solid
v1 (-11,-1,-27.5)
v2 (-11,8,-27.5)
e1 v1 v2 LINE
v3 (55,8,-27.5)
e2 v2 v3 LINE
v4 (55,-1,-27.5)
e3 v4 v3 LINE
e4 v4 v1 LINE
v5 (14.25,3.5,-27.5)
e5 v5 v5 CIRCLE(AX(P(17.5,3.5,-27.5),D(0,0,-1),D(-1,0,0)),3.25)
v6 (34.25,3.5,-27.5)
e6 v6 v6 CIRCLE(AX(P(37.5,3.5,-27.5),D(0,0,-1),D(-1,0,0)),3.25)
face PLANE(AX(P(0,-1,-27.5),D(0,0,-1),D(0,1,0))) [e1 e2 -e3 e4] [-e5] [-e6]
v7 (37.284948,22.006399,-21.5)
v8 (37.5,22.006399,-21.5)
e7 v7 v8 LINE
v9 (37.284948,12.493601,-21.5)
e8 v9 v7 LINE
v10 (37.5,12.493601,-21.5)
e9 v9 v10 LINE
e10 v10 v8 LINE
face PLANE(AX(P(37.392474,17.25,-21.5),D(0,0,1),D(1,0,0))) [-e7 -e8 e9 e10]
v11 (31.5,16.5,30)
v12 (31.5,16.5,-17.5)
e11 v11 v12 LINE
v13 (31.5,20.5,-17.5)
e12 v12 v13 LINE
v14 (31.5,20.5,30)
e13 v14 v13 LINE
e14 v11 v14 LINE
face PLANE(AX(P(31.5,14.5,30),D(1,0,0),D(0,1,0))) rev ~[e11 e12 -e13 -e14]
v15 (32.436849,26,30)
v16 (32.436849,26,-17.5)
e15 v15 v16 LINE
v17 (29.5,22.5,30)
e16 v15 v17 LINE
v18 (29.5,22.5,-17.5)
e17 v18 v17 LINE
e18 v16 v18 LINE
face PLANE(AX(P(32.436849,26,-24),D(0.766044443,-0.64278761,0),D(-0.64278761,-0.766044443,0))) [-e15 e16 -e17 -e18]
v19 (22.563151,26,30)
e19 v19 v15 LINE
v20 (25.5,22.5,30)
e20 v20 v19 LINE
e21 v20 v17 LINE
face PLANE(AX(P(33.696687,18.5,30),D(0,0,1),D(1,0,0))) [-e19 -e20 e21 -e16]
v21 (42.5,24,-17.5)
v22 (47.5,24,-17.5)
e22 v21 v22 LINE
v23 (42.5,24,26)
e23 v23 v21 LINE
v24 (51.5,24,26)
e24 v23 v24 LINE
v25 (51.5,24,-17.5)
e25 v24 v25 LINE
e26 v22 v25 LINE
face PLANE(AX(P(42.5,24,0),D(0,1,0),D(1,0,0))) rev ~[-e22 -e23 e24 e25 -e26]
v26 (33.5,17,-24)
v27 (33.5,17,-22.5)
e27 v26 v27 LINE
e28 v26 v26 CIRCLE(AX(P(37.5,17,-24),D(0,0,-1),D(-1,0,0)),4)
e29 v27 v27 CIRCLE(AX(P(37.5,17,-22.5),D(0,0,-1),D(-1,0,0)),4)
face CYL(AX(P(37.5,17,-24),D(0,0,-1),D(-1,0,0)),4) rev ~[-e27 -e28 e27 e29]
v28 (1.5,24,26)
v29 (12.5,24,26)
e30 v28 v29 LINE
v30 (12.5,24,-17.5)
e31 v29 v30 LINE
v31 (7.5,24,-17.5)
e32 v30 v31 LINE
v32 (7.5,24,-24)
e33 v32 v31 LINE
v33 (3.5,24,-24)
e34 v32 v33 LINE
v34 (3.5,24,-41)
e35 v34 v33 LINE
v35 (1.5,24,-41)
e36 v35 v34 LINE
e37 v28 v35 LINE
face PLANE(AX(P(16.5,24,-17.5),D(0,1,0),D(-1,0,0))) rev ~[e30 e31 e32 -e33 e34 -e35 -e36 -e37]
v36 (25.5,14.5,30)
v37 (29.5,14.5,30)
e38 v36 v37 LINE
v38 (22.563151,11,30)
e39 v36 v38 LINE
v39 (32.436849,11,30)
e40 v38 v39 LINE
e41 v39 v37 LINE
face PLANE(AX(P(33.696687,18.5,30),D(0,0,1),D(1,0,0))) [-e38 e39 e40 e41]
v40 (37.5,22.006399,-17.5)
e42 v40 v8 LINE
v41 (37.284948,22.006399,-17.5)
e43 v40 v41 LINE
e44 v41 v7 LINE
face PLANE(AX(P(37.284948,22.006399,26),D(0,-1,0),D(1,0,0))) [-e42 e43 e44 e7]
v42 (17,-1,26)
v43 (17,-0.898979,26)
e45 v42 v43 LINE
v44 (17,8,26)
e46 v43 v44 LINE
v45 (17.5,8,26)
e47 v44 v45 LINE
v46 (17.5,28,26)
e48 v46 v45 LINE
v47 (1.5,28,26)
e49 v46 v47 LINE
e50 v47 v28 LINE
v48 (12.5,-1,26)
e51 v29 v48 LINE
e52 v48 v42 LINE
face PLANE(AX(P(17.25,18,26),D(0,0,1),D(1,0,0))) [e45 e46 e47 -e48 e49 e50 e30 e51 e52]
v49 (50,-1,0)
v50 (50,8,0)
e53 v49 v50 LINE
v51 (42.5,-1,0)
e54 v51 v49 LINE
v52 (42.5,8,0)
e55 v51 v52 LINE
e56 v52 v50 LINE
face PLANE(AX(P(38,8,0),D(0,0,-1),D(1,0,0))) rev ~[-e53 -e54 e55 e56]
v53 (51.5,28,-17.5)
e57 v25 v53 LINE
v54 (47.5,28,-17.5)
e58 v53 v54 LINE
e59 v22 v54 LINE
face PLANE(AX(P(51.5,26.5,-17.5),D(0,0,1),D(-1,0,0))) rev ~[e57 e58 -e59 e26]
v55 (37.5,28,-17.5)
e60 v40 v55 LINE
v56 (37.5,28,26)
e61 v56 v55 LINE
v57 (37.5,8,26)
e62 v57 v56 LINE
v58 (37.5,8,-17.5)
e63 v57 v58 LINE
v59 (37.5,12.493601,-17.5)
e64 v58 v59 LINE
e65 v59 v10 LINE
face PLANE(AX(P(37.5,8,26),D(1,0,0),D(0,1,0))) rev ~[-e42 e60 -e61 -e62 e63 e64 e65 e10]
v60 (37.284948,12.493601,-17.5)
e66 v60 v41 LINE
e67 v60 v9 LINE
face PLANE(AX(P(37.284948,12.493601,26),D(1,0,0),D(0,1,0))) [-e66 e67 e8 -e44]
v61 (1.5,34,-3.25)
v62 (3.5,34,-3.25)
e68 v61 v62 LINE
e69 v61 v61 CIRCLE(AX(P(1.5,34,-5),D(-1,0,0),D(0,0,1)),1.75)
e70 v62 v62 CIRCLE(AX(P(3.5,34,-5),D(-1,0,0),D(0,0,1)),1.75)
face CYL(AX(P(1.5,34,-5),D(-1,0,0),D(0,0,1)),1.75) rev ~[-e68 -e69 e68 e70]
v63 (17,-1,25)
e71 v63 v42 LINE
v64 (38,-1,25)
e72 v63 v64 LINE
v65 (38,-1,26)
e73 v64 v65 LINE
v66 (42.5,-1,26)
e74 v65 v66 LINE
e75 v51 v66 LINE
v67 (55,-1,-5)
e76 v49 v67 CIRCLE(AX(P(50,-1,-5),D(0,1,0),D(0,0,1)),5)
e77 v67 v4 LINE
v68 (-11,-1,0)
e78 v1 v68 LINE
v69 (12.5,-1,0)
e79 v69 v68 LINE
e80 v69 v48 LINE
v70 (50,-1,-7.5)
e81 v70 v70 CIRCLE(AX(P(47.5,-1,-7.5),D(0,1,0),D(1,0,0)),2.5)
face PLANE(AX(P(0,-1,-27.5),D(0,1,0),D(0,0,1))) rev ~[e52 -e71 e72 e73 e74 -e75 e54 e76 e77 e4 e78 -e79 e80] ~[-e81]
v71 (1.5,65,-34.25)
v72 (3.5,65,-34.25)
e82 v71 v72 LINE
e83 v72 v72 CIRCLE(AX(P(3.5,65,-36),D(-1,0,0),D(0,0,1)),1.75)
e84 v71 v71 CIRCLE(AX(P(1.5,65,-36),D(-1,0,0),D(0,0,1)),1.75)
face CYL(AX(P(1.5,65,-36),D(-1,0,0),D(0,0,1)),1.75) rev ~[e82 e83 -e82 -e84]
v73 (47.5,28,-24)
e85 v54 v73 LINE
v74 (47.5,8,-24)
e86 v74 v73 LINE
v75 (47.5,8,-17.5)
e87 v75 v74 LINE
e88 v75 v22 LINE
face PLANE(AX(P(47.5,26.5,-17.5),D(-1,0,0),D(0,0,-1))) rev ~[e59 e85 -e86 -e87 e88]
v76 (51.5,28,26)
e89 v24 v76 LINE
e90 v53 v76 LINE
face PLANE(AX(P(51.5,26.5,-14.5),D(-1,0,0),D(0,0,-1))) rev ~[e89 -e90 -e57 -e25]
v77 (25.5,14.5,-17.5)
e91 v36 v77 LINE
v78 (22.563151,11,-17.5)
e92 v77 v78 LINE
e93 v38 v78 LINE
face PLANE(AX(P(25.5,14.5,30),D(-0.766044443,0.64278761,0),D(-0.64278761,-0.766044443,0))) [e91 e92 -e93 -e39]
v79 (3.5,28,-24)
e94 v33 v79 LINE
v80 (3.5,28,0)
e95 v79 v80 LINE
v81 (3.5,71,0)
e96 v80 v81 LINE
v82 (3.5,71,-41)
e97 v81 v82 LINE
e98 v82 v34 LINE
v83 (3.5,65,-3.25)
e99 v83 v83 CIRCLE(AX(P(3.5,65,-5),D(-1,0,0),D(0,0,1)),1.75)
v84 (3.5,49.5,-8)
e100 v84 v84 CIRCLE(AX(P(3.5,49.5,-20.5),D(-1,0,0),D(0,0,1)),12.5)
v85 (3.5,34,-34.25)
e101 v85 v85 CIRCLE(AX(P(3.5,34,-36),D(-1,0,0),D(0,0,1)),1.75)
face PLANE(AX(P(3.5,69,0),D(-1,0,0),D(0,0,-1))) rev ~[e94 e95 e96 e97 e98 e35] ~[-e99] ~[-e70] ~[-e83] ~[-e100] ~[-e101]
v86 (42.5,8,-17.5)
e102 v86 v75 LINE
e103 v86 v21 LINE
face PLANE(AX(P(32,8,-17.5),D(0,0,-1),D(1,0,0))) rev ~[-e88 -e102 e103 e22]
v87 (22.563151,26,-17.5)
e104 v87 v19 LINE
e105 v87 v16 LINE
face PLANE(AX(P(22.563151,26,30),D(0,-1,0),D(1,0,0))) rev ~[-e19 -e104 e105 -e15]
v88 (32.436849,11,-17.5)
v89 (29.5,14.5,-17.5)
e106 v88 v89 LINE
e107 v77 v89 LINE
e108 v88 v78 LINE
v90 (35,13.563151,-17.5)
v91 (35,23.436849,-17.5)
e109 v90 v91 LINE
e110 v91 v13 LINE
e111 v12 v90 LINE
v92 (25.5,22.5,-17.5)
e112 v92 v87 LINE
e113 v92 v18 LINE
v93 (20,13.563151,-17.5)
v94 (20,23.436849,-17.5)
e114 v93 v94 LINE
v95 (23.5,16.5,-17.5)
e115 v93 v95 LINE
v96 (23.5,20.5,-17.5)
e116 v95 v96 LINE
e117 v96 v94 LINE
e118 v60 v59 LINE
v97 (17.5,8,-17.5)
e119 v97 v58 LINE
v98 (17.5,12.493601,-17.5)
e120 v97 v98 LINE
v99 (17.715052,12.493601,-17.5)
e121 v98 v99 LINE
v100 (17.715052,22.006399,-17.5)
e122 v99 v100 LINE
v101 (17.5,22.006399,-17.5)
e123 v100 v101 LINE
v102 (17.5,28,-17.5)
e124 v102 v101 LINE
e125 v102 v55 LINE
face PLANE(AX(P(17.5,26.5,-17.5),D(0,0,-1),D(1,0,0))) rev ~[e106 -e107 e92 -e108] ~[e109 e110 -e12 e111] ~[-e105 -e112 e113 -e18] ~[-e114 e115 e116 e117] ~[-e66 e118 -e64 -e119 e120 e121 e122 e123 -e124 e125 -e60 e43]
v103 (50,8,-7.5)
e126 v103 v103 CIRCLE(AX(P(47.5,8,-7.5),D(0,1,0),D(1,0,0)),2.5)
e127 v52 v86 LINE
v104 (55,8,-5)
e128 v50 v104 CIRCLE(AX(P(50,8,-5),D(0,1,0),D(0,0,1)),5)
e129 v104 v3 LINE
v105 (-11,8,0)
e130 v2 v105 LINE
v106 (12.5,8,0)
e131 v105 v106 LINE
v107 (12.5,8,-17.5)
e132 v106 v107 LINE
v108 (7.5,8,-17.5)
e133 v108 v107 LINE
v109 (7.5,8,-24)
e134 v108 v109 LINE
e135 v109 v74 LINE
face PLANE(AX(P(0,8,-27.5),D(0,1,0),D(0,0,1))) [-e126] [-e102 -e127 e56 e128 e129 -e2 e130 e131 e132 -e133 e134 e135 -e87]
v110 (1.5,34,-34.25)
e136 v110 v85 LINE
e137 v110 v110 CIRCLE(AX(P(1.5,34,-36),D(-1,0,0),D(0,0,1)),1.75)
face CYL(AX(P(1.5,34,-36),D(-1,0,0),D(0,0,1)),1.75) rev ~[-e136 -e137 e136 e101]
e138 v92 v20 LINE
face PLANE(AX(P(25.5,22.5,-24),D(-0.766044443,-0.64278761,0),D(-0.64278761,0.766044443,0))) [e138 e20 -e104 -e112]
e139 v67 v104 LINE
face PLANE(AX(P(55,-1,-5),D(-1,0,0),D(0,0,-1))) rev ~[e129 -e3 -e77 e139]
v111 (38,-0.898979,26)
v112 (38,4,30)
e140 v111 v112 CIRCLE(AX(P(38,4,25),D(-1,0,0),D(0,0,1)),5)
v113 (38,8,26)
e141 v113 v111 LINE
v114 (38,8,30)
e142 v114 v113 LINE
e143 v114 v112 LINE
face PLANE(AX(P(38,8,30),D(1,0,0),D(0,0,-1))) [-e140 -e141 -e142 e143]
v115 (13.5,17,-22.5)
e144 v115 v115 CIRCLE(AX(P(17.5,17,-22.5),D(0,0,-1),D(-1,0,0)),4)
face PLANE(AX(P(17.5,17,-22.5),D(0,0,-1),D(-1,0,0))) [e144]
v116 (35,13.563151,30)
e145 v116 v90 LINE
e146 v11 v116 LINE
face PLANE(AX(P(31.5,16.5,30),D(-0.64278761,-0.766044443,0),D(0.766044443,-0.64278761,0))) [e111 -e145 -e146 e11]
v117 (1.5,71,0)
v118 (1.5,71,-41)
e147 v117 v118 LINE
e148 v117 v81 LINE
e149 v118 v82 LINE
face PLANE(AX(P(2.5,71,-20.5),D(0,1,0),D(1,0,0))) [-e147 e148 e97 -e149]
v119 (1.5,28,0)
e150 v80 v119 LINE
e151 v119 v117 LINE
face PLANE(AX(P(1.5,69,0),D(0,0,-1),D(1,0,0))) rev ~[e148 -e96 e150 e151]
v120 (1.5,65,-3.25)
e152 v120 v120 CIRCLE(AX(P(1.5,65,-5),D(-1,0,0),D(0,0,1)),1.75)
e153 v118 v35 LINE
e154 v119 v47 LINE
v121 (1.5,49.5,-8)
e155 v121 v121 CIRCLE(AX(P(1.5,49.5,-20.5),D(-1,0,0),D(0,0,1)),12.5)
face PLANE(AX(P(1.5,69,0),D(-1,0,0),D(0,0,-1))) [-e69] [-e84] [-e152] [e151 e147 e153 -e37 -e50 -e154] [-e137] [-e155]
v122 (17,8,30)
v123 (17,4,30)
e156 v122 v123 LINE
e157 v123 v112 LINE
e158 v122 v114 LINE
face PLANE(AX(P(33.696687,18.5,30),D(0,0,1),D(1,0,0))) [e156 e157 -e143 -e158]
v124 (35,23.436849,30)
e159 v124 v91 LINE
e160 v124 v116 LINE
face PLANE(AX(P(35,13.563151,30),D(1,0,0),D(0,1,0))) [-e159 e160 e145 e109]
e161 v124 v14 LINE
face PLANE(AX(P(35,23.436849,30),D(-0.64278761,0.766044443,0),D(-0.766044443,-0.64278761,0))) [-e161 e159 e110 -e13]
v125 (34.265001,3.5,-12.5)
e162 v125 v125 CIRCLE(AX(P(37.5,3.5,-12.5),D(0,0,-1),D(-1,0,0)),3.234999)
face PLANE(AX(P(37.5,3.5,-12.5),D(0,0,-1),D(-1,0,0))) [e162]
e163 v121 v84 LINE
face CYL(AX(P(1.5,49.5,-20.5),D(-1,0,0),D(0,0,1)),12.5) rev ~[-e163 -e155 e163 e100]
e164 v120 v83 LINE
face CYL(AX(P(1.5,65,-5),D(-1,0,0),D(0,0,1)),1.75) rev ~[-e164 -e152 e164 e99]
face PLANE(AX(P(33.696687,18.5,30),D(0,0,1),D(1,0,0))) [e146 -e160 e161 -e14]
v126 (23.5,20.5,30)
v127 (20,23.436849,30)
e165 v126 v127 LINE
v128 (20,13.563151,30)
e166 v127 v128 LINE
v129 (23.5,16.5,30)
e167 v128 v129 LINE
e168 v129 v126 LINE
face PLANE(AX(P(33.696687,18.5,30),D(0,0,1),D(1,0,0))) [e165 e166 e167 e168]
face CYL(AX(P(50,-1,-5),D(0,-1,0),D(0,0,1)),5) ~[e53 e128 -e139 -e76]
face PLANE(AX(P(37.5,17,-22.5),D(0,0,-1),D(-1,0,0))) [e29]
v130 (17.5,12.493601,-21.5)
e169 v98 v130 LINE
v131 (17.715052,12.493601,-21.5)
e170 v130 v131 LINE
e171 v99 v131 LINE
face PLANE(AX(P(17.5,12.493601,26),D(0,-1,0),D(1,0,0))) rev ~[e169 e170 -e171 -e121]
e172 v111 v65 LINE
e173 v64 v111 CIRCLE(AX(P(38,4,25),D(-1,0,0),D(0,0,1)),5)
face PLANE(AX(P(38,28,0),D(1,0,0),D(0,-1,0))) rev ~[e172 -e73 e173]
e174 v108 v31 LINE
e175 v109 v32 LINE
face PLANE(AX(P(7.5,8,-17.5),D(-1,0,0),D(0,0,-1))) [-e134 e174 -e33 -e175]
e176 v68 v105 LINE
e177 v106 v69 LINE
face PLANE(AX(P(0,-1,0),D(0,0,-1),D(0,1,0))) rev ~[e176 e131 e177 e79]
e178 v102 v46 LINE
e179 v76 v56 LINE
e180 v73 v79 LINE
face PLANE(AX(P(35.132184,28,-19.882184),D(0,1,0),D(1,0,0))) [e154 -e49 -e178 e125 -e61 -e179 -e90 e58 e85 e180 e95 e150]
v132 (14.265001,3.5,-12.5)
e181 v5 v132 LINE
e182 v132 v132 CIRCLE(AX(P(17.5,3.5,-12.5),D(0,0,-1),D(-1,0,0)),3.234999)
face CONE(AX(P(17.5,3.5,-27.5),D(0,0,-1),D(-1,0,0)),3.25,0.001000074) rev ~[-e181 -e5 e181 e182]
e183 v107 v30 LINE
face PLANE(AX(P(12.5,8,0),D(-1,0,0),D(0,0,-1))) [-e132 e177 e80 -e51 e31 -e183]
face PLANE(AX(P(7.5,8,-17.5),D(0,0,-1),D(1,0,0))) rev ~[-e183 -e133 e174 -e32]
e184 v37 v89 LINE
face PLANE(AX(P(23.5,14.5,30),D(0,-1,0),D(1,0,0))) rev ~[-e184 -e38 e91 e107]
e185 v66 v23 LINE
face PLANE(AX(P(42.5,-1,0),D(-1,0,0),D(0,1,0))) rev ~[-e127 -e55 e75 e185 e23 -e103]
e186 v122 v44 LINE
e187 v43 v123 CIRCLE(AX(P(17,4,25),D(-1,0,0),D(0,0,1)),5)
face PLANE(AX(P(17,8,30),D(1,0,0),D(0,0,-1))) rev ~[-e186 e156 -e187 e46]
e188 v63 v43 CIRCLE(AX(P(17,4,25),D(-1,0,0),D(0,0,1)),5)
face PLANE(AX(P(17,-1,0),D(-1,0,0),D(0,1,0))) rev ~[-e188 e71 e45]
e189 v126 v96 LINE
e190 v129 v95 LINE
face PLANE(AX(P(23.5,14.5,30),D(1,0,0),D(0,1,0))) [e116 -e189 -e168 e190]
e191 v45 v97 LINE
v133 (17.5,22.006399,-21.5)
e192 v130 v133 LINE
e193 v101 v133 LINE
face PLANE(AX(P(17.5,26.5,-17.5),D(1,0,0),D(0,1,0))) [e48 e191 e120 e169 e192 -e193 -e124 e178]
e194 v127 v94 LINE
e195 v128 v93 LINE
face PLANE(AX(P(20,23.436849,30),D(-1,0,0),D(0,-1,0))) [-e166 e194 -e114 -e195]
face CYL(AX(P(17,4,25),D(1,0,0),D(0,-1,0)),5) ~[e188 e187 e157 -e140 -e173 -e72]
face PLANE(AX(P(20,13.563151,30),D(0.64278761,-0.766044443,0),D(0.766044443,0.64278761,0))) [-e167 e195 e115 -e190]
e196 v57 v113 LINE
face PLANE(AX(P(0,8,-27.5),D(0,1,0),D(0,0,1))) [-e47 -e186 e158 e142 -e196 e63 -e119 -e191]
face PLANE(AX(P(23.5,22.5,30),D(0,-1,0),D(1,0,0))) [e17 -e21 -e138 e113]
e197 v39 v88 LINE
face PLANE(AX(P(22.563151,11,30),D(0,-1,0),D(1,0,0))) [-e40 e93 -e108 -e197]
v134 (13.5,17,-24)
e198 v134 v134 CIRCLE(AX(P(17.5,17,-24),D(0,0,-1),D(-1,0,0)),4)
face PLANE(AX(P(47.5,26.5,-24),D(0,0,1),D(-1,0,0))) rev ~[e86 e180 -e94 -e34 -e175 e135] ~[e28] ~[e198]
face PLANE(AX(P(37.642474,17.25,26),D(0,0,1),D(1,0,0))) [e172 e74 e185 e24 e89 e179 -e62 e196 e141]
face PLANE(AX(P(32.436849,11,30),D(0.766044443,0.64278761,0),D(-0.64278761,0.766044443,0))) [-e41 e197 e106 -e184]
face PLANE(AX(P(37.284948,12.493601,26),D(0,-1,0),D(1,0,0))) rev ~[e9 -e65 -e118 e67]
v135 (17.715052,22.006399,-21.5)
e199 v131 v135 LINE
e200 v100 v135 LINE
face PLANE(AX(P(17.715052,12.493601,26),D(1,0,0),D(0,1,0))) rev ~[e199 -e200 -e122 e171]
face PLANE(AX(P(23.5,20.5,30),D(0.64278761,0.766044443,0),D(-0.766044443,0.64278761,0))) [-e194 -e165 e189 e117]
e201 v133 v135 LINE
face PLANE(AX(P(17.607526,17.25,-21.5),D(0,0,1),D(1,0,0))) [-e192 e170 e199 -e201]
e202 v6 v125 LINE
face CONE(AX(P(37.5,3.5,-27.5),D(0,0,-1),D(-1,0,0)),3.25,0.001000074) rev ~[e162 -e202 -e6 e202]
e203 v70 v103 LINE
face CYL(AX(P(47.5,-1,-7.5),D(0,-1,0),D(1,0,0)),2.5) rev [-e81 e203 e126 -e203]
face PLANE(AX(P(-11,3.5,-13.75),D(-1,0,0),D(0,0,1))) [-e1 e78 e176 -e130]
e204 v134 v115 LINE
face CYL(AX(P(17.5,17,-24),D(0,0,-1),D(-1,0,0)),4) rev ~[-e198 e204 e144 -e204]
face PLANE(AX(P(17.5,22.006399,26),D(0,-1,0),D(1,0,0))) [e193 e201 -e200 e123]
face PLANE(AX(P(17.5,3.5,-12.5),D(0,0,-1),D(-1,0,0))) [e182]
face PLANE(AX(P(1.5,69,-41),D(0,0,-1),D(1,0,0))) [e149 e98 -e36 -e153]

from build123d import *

# Parameters (mm, degrees)
BOSS_EXTRUDE2_DEPTH          = 8
BOSS_EXTRUDE2_DEPTH_BACK     = 1
SKETCH1_R                    = 2.5
CUT_EXTRUDE1_DEPTH           = 79.300702423
CUT_EXTRUDE1_DEPTH_BACK      = 79.300702423
SKETCH2_R                    = 2.5
SKETCH3_R                    = 3.25
CUT_EXTRUDE5_DEPTH           = 15
CUT_EXTRUDE5_DRAFT           = -0.0573
CUT_EXTRUDE5_PROFILE_2_DEPTH = 15
CUT_EXTRUDE5_PROFILE_2_DRAFT = -0.0573
SKETCH5_W                    = 9
SKETCH5_H                    = 6.5
BOSS_EXTRUDE3_DEPTH          = 14.5
CUT_EXTRUDE4_DEPTH           = 1.5
SKETCH12_W                   = 21
SKETCH12_H                   = 30
BOSS_EXTRUDE7_DEPTH          = 9
SKETCH15_W                   = 9
SKETCH15_H                   = 6.5
BOSS_EXTRUDE8_DEPTH          = 3.5
BOSS_EXTRUDE9_DEPTH          = 54
FILLET4_R                    = 5
SKETCH18_W                   = 9.873697418
SKETCH18_H                   = 6.5
BOSS_EXTRUDE11_DEPTH         = 0.5
SKETCH20_W                   = 4
SKETCH20_H                   = 17.5
BOSS_EXTRUDE12_DEPTH         = 18
BOSS_EXTRUDE13_DEPTH         = 11
BOSS_EXTRUDE13_DEPTH_BACK    = 4
SKETCH22_W                   = 17.5
SKETCH22_H                   = 4
SKETCH25_W                   = 2
SKETCH25_H                   = 17.5
BOSS_EXTRUDE14_DEPTH         = 41
SKETCH28_W                   = 41
SKETCH28_H                   = 45
BOSS_EXTRUDE15_DEPTH         = 2
SKETCH29_R                   = 1.75
CUT_EXTRUDE8_DEPTH           = 9
BOSS_EXTRUDE16_DEPTH         = 9
BOSS_EXTRUDE16_DEPTH_BACK    = 4
SKETCH30_W                   = 17.5
SKETCH30_H                   = 4
SKETCH31_R                   = 10
CUT_EXTRUDE9_DEPTH           = 9
SKETCH32_W                   = 13
SKETCH32_H                   = 4
BOSS_EXTRUDE17_DEPTH         = 23.5
SKETCH33_W                   = 0.5
SKETCH33_H                   = 17.5
BOSS_EXTRUDE18_DEPTH         = 20
BOSS_EXTRUDE19_DEPTH         = 26
SKETCH35_W                   = 9.873697418
SKETCH35_H                   = 0.5
BOSS_EXTRUDE20_DEPTH         = 47.5
BOSS_EXTRUDE21_DEPTH         = 47.5
SKETCH38_W                   = 0.419549816
SKETCH38_H                   = 18.5
CUT_EXTRUDE10_DEPTH          = 90.5
BOSS_EXTRUDE23_DEPTH         = 47.5
SKETCH46_W                   = 27.5
SKETCH46_H                   = 9
BOSS_EXTRUDE26_DEPTH         = 11.5
SKETCH47_W                   = 27.5
SKETCH47_H                   = 9
BOSS_EXTRUDE27_DEPTH         = 11
SKETCH48_W                   = 15.5
SKETCH48_H                   = 6.5
BOSS_EXTRUDE31_DEPTH         = 18.5
SKETCH50_R                   = 4
CUT_EXTRUDE11_DEPTH          = 1.5
SKETCH51_W                   = 9.626242636
SKETCH51_H                   = 9.125298808
BOSS_EXTRUDE32_DEPTH         = 1.5
SKETCH54_W                   = 8
SKETCH54_H                   = 8
BOSS_EXTRUDE35_DEPTH         = 47.5
SKETCH55_W                   = 9.873697418
SKETCH55_H                   = 0.5
CUT_EXTRUDE12_DEPTH          = 47.5
SKETCH56_W                   = 0.5
SKETCH56_H                   = 20
BOSS_EXTRUDE36_DEPTH         = 43.5
BOSS_EXTRUDE37_DEPTH         = 47.5
SKETCH58_W                   = 0.715052156
SKETCH58_H                   = 9.51279705
CUT_EXTRUDE13_DEPTH          = 4
CUT_EXTRUDE15_DEPTH          = 47.5
SKETCH60_W                   = 0.215052156
SKETCH60_H                   = 9.51279705
CUT_EXTRUDE16_DEPTH          = 47.5
CUT_EXTRUDE17_DEPTH          = 47.5
SKETCH62_W                   = 8
SKETCH62_H                   = 8
CUT_EXTRUDE18_DEPTH          = 47.5
SKETCH63_W                   = 13
SKETCH63_H                   = 4
CUT_EXTRUDE20_DEPTH          = 17
SKETCH64_W                   = 1
SKETCH64_H                   = 1.5
BOSS_EXTRUDE38_DEPTH         = 6.5
SKETCH65_W                   = 7
SKETCH65_H                   = 3
CUT_EXTRUDE21_DEPTH          = 1.5
BOSS_EXTRUDE39_START         = -2
SKETCH66_R                   = 10
BOSS_EXTRUDE39_DEPTH         = 2
SKETCH67_R                   = 12.5
CUT_EXTRUDE22_DEPTH          = 155
BOSS_EXTRUDE40_DEPTH         = 1.5
SKETCH70_W                   = 2
SKETCH70_H                   = 41
BOSS_EXTRUDE41_DEPTH         = 2


with BuildPart() as part:
    # Sketch1 → Boss-Extrude2 (new, two sides: drawn at the far end of the back side and taken through both)
    with BuildSketch(Plane(origin=(0, 0, 0), x_dir=(1, 0, 0), z_dir=(0, 1, 0)).offset(-BOSS_EXTRUDE2_DEPTH_BACK)):
        with BuildLine():
            Line((5, 0), (50, 0))
            ThreePointArc((50, 0), (53.535533906, 1.464466094), (55, 5))
            Line((55, 5), (55, 50))
            ThreePointArc((55, 50), (53.535533906, 53.535533906), (50, 55))
            Line((50, 55), (5, 55))
            ThreePointArc((5, 55), (1.464466094, 53.535533906), (0, 50))
            Line((0, 50), (0, 5))
            ThreePointArc((0, 5), (1.464466094, 1.464466094), (5, 0))
        make_face()
        with Locations((7.5, 47.5)):
            Circle(SKETCH1_R, mode=Mode.SUBTRACT)
        with Locations((47.5, 47.5)):
            Circle(SKETCH1_R, mode=Mode.SUBTRACT)
        with Locations((47.5, 7.5)):
            Circle(SKETCH1_R, mode=Mode.SUBTRACT)
        with Locations((7.5, 7.5)):
            Circle(SKETCH1_R, mode=Mode.SUBTRACT)
    extrude(amount=BOSS_EXTRUDE2_DEPTH + BOSS_EXTRUDE2_DEPTH_BACK)

    # Sketch2 → Cut-Extrude1 (cut, two sides: drawn at the far end of the back side and taken through both)
    with BuildSketch(Plane(origin=(0, 8, 0), x_dir=(1, 0, 0), z_dir=(0, 1, 0)).offset(-CUT_EXTRUDE1_DEPTH_BACK)):
        with BuildLine():
            Line((0, 50), (0, 27.5))
            Line((0, 27.5), (55, 27.5))
            Line((55, 27.5), (55, 50))
            ThreePointArc((55, 50), (53.535533906, 53.535533906), (50, 55))
            Line((50, 55), (5, 55))
            ThreePointArc((5, 55), (1.464466094, 53.535533906), (0, 50))
        make_face()
        with Locations((7.5, 47.5)):
            Circle(SKETCH2_R, mode=Mode.SUBTRACT)
        with Locations((47.5, 47.5)):
            Circle(SKETCH2_R, mode=Mode.SUBTRACT)
    extrude(amount=CUT_EXTRUDE1_DEPTH + CUT_EXTRUDE1_DEPTH_BACK, mode=Mode.SUBTRACT)


with BuildPart() as cut_extrude5_tool:
    # Sketch3 → Cut-Extrude5 (with draft: the straight prism first)
    with BuildSketch(Plane(origin=(0, 0, -27.5), x_dir=(-1, 0, 0), z_dir=(0, 0, -1))):
        with Locations((-37.5, 3.5)):
            Circle(SKETCH3_R)
    extrude(amount=-CUT_EXTRUDE5_DEPTH)
    # Cut-Extrude5: the draft: its side faces are tilted about the plane it starts from
    cut_extrude5_sides = [cut_extrude5_tool.faces().sort_by_distance(p)[0] for p in [
        (40.75, 3.5, -20),
    ]]
    draft(cut_extrude5_sides, Plane(origin=(0, 0, -27.5), x_dir=(-1, 0, 0), z_dir=(0, 0, -1)), CUT_EXTRUDE5_DRAFT)


with BuildPart() as part_1:
    add(part.part)

    # Cut-Extrude5: cut by cut_extrude5_tool
    add(cut_extrude5_tool.part, mode=Mode.SUBTRACT)


with BuildPart() as cut_extrude5_profile_2_tool:
    # Sketch3 → Cut-Extrude5 profile 2 (with draft: the straight prism first)
    with BuildSketch(Plane(origin=(0, 0, -27.5), x_dir=(-1, 0, 0), z_dir=(0, 0, -1))):
        with Locations((-17.5, 3.5)):
            Circle(SKETCH3_R)
    extrude(amount=-CUT_EXTRUDE5_PROFILE_2_DEPTH)
    # Cut-Extrude5 profile 2: the draft: its side faces are tilted about the plane it starts from
    cut_extrude5_profile_2_sides = [cut_extrude5_profile_2_tool.faces().sort_by_distance(p)[0] for p in [
        (20.75, 3.5, -20),
    ]]
    draft(cut_extrude5_profile_2_sides, Plane(origin=(0, 0, -27.5), x_dir=(-1, 0, 0), z_dir=(0, 0, -1)), CUT_EXTRUDE5_PROFILE_2_DRAFT)


with BuildPart() as part_2:
    add(part_1.part)

    # Cut-Extrude5 profile 2: cut by cut_extrude5_profile_2_tool
    add(cut_extrude5_profile_2_tool.part, mode=Mode.SUBTRACT)

    # Sketch5 → Boss-Extrude3 (add)
    with BuildSketch(Plane(origin=(0, 8, 0), x_dir=(1, 0, 0), z_dir=(0, 1, 0))):
        with Locations((27.5, 20.75)):
            Rectangle(SKETCH5_W, SKETCH5_H)
    extrude(amount=BOSS_EXTRUDE3_DEPTH)

    # Sketch6 → Cut-Extrude4 (cut)
    with BuildSketch(Plane(origin=(0, 0, -24), x_dir=(-1, 0, 0), z_dir=(0, 0, -1))):
        with BuildLine():
            ThreePointArc((-27.5, 13), (-24.671572875, 14.171572875), (-23.5, 17))
            ThreePointArc((-23.5, 17), (-30.328427125, 19.828427125), (-27.5, 13))
        make_face()
    extrude(amount=-CUT_EXTRUDE4_DEPTH, mode=Mode.SUBTRACT)

    # Sketch12 → Boss-Extrude7 (add)
    with BuildSketch(Plane(origin=(0, 8, 0), x_dir=(1, 0, 0), z_dir=(0, 1, 0))):
        with Locations((27.5, -15)):
            Rectangle(SKETCH12_W, SKETCH12_H)
    extrude(amount=-BOSS_EXTRUDE7_DEPTH)

    # Sketch15 → Boss-Extrude8 (add)
    with BuildSketch(Plane(origin=(0, 22.5, 0), x_dir=(1, 0, 0), z_dir=(0, 1, 0))):
        with Locations((27.5, 20.75)):
            Rectangle(SKETCH15_W, SKETCH15_H)
    extrude(amount=BOSS_EXTRUDE8_DEPTH)

    # Sketch11 → Boss-Extrude9 (add)
    with BuildSketch(Plane(origin=(0, 0, -24), x_dir=(-1, 0, 0), z_dir=(0, 0, -1))):
        Polygon((-29.5, 22.5), (-25.5, 22.5), (-22.563151291, 26), (-32.436848709, 26), align=None)
    extrude(amount=-BOSS_EXTRUDE9_DEPTH)

    # Fillet4
    fillet4_edges = [part_2.edges().sort_by_distance(p)[0] for p in [
        (27.5, -1, 30),
    ]]
    fillet(fillet4_edges, radius=FILLET4_R)

    # Sketch18 → Boss-Extrude11 (add)
    with BuildSketch(Plane(origin=(0, 26, 0), x_dir=(1, 0, 0), z_dir=(0, 1, 0))):
        with Locations((27.5, 20.75)):
            Rectangle(SKETCH18_W, SKETCH18_H)
    extrude(amount=BOSS_EXTRUDE11_DEPTH)

    # Sketch20 → Boss-Extrude12 (add)
    with BuildSketch(Plane(origin=(0, 8, 0), x_dir=(1, 0, 0), z_dir=(0, 1, 0))):
        with Locations((14.5, 8.75)):
            Rectangle(SKETCH20_W, SKETCH20_H)
        with Locations((40.5, 8.75)):
            Rectangle(SKETCH20_W, SKETCH20_H)
    extrude(amount=BOSS_EXTRUDE12_DEPTH)

    # Sketch22 → Boss-Extrude13 (add, two sides: drawn at the far end of the back side and taken through both)
    with BuildSketch(Plane.ZY.offset(-12.5).offset(-BOSS_EXTRUDE13_DEPTH_BACK)):
        with Locations((-8.75, 26)):
            Rectangle(SKETCH22_W, SKETCH22_H)
    extrude(amount=BOSS_EXTRUDE13_DEPTH + BOSS_EXTRUDE13_DEPTH_BACK)

    # Sketch25 → Boss-Extrude14 (add)
    with BuildSketch(Plane(origin=(0, 28, 0), x_dir=(1, 0, 0), z_dir=(0, 1, 0))):
        with Locations((2.5, 8.75)):
            Rectangle(SKETCH25_W, SKETCH25_H)
    extrude(amount=BOSS_EXTRUDE14_DEPTH)

    # Sketch28 → Boss-Extrude15 (add)
    with BuildSketch(Plane.ZY.offset(-1.5)):
        with Locations((-20.5, 46.5)):
            Rectangle(SKETCH28_W, SKETCH28_H)
    extrude(amount=-BOSS_EXTRUDE15_DEPTH)

    # Sketch29 → Cut-Extrude8 (cut)
    with BuildSketch(Plane.ZY.offset(-1.5)):
        with Locations((-5, 34)):
            Circle(SKETCH29_R)
        with Locations((-36, 34)):
            Circle(SKETCH29_R)
        with Locations((-36, 65)):
            Circle(SKETCH29_R)
        with Locations((-5, 65)):
            Circle(SKETCH29_R)
    extrude(amount=-CUT_EXTRUDE8_DEPTH, mode=Mode.SUBTRACT)

    # Sketch30 → Boss-Extrude16 (add, two sides: drawn at the far end of the back side and taken through both)
    with BuildSketch(Plane(origin=(42.5, 0, 0), x_dir=(0, 0, -1), z_dir=(1, 0, 0)).offset(-BOSS_EXTRUDE16_DEPTH_BACK)):
        with Locations((8.75, 26)):
            Rectangle(SKETCH30_W, SKETCH30_H)
    extrude(amount=BOSS_EXTRUDE16_DEPTH + BOSS_EXTRUDE16_DEPTH_BACK)

    # Sketch31 → Cut-Extrude9 (cut)
    with BuildSketch(Plane(origin=(3.5, 0, 0), x_dir=(0, 0, -1), z_dir=(1, 0, 0))):
        with Locations((20.5, 47)):
            Circle(SKETCH31_R)
    extrude(amount=-CUT_EXTRUDE9_DEPTH, mode=Mode.SUBTRACT)

    # Sketch32 → Boss-Extrude17 (add)
    with BuildSketch(Plane(origin=(0, 0, -17.5), x_dir=(-1, 0, 0), z_dir=(0, 0, -1))):
        with Locations((-10, 26)):
            Rectangle(SKETCH32_W, SKETCH32_H)
    extrude(amount=BOSS_EXTRUDE17_DEPTH)

    # Sketch33 → Boss-Extrude18 (add)
    with BuildSketch(Plane(origin=(0, 8, 0), x_dir=(1, 0, 0), z_dir=(0, 1, 0))):
        with Locations((38.25, 8.75)):
            Rectangle(SKETCH33_W, SKETCH33_H)
        with Locations((16.75, 8.75)):
            Rectangle(SKETCH33_W, SKETCH33_H)
    extrude(amount=BOSS_EXTRUDE18_DEPTH)

    # Sketch34 → Boss-Extrude19 (add)
    with BuildSketch(Plane.XY):
        Polygon((51.5, 24), (51.5, 28), (38, 28), (38, -1), (42.5, -1), (42.5, 24), align=None)
        Polygon((17, 28), (1.5, 28), (1.5, 24), (12.5, 24), (12.5, -1), (17, -1), align=None)
    extrude(amount=BOSS_EXTRUDE19_DEPTH)

    # Sketch35 → Boss-Extrude20 (add)
    with BuildSketch(Plane.XY.offset(-17.5)):
        with Locations((27.5, 26.25)):
            Rectangle(SKETCH35_W, SKETCH35_H)
    extrude(amount=BOSS_EXTRUDE20_DEPTH)

    # Sketch37 → Boss-Extrude21 (add)
    with BuildSketch(Plane.XY.offset(-17.5)):
        Polygon((29.5, 12), (25.5, 12), (21.863844179, 7.666598237), (33.136155821, 7.666598237), align=None)
    extrude(amount=BOSS_EXTRUDE21_DEPTH)

    # Sketch38 → Cut-Extrude10 (cut)
    with BuildSketch(Plane.XY.offset(30)):
        with Locations((22.353376383, 17.25)):
            Rectangle(SKETCH38_W, SKETCH38_H)
        with Locations((32.646623617, 17.25)):
            Rectangle(SKETCH38_W, SKETCH38_H)
    extrude(amount=-CUT_EXTRUDE10_DEPTH, mode=Mode.SUBTRACT)

    # Sketch39 → Boss-Extrude23 (add)
    with BuildSketch(Plane.XY.offset(30)):
        Polygon((38, 22.006398525), (37.284947844, 22.006398525), (34, 19.25), (34, 15.25), (37.284947844, 12.493601475), (38, 12.493601475), align=None)
        Polygon((21, 19.25), (17.715052156, 22.006398525), (17, 22.006398525), (17, 12.493601475), (17.715052156, 12.493601475), (21, 15.25), align=None)
    extrude(amount=-BOSS_EXTRUDE23_DEPTH)

    # Sketch46 → Boss-Extrude26 (add)
    with BuildSketch(Plane.ZY):
        with Locations((-13.75, 3.5)):
            Rectangle(SKETCH46_W, SKETCH46_H)
    extrude(amount=-BOSS_EXTRUDE26_DEPTH)

    # Sketch47 → Boss-Extrude27 (add)
    with BuildSketch(Plane.ZY):
        with Locations((-13.75, 3.5)):
            Rectangle(SKETCH47_W, SKETCH47_H)
    extrude(amount=BOSS_EXTRUDE27_DEPTH)

    # Sketch48 → Boss-Extrude31 (add)
    with BuildSketch(Plane(origin=(0, 8, 0), x_dir=(1, 0, 0), z_dir=(0, 1, 0))):
        with Locations((15.25, 20.75)):
            Rectangle(SKETCH48_W, SKETCH48_H)
        with Locations((39.75, 20.75)):
            Rectangle(SKETCH48_W, SKETCH48_H)
    extrude(amount=BOSS_EXTRUDE31_DEPTH)

    # Sketch50 → Cut-Extrude11 (cut)
    with BuildSketch(Plane(origin=(0, 0, -24), x_dir=(-1, 0, 0), z_dir=(0, 0, -1))):
        with Locations((-17.5, 17)):
            Circle(SKETCH50_R)
        with Locations((-37.5, 17)):
            Circle(SKETCH50_R)
    extrude(amount=-CUT_EXTRUDE11_DEPTH, mode=Mode.SUBTRACT)

    # Sketch51 → Boss-Extrude32 (add)
    with BuildSketch(Plane(origin=(0, 0, -24), x_dir=(-1, 0, 0), z_dir=(0, 0, -1))):
        with Locations((-27.646184708, 17.114099589)):
            Rectangle(SKETCH51_W, SKETCH51_H)
    extrude(amount=-BOSS_EXTRUDE32_DEPTH)

    # Sketch54 → Boss-Extrude35 (add)
    with BuildSketch(Plane.XY.offset(-17.5)):
        with Locations((27.5, 18.5)):
            Rectangle(SKETCH54_W, SKETCH54_H)
    extrude(amount=BOSS_EXTRUDE35_DEPTH)

    # Sketch55 → Cut-Extrude12 (cut)
    with BuildSketch(Plane.XY.offset(30)):
        with Locations((27.5, 26.25)):
            Rectangle(SKETCH55_W, SKETCH55_H)
    extrude(amount=-CUT_EXTRUDE12_DEPTH, mode=Mode.SUBTRACT)

    # Sketch56 → Boss-Extrude36 (add)
    with BuildSketch(Plane.XY.offset(26)):
        with Locations((37.75, 18)):
            Rectangle(SKETCH56_W, SKETCH56_H)
        with Locations((17.25, 18)):
            Rectangle(SKETCH56_W, SKETCH56_H)
    extrude(amount=-BOSS_EXTRUDE36_DEPTH)

    # Sketch57 → Boss-Extrude37 (add)
    with BuildSketch(Plane.XY.offset(30)):
        Polygon((35, 23.436848709), (31.5, 20.5), (31.5, 16.5), (35, 13.563151291), align=None)
        Polygon((20, 13.563151291), (23.5, 16.5), (23.5, 20.5), (20, 23.436848709), align=None)
        Polygon((32.436848709, 11), (29.5, 14.5), (25.5, 14.5), (22.563151291, 11), align=None)
    extrude(amount=-BOSS_EXTRUDE37_DEPTH)

    # Sketch58 → Cut-Extrude13 (cut)
    with BuildSketch(Plane.XY.offset(30)):
        with Locations((37.642473922, 17.25)):
            Rectangle(SKETCH58_W, SKETCH58_H)
        with Locations((17.357526078, 17.25)):
            Rectangle(SKETCH58_W, SKETCH58_H)
    extrude(amount=-CUT_EXTRUDE13_DEPTH, mode=Mode.SUBTRACT)

    # Sketch59 → Cut-Extrude15 (cut)
    with BuildSketch(Plane.XY.offset(30)):
        Polygon((37.284947844, 22.006398525), (35, 20.089099631), (35, 14.410900369), (37.284947844, 12.493601475), align=None)
        Polygon((17.715052156, 22.006398525), (20, 20.089099631), (20, 14.410900369), (17.715052156, 12.493601475), align=None)
    extrude(amount=-CUT_EXTRUDE15_DEPTH, mode=Mode.SUBTRACT)

    # Sketch60 → Cut-Extrude16 (cut)
    with BuildSketch(Plane.XY.offset(26)):
        with Locations((37.392473922, 17.25)):
            Rectangle(SKETCH60_W, SKETCH60_H)
        with Locations((17.607526078, 17.25)):
            Rectangle(SKETCH60_W, SKETCH60_H)
    extrude(amount=-CUT_EXTRUDE16_DEPTH, mode=Mode.SUBTRACT)

    # Sketch61 → Cut-Extrude17 (cut)
    with BuildSketch(Plane.XY.offset(30)):
        Polygon((32.436848709, 8), (22.563151291, 8), (22.563151291, 8.5), (24.660900369, 11), (30.339099631, 11), (32.436848709, 8.5), align=None)
    extrude(amount=-CUT_EXTRUDE17_DEPTH, mode=Mode.SUBTRACT)

    # Sketch62 → Cut-Extrude18 (cut)
    with BuildSketch(Plane.XY.offset(30)):
        with Locations((27.5, 18.5)):
            Rectangle(SKETCH62_W, SKETCH62_H)
    extrude(amount=-CUT_EXTRUDE18_DEPTH, mode=Mode.SUBTRACT)

    # Sketch63 → Cut-Extrude20 (cut)
    with BuildSketch(Plane(origin=(0, 0, -41), x_dir=(-1, 0, 0), z_dir=(0, 0, -1))):
        with Locations((-10, 26)):
            Rectangle(SKETCH63_W, SKETCH63_H)
    extrude(amount=-CUT_EXTRUDE20_DEPTH, mode=Mode.SUBTRACT)

    # Sketch64 → Boss-Extrude38 (add)
    with BuildSketch(Plane(origin=(0, 0, -17.5), x_dir=(-1, 0, 0), z_dir=(0, 0, -1))):
        with Locations((-17, 27.25)):
            Rectangle(SKETCH64_W, SKETCH64_H)
    extrude(amount=BOSS_EXTRUDE38_DEPTH)

    # Sketch65 → Cut-Extrude21 (cut)
    with BuildSketch(Plane(origin=(0, 28, 0), x_dir=(1, 0, 0), z_dir=(0, 1, 0))):
        with Locations((48, 16)):
            Rectangle(SKETCH65_W, SKETCH65_H)
    extrude(amount=-CUT_EXTRUDE21_DEPTH, mode=Mode.SUBTRACT)

    # Sketch66 → Boss-Extrude39 (add)
    with BuildSketch(Plane.ZY.offset(-1.5).offset(BOSS_EXTRUDE39_START)):
        with Locations((-20.5, 47)):
            Circle(SKETCH66_R)
    extrude(amount=BOSS_EXTRUDE39_DEPTH)

    # Sketch67 → Cut-Extrude22 (cut)
    with BuildSketch(Plane.ZY.offset(-1.5)):
        with Locations((-20.5, 49.5)):
            Circle(SKETCH67_R)
    extrude(amount=-CUT_EXTRUDE22_DEPTH, mode=Mode.SUBTRACT)

    # Sketch69 → Boss-Extrude40 (add)
    with BuildSketch(Plane(origin=(0, 26.5, 0), x_dir=(1, 0, 0), z_dir=(0, 1, 0))):
        Polygon((44.5, 14.5), (51.5, 14.5), (51.5, 17.5), (47.5, 17.5), (47.5, 24), (17.5, 24), (17.5, 17.5), (44.5, 17.5), align=None)
    extrude(amount=BOSS_EXTRUDE40_DEPTH)

    # Sketch70 → Boss-Extrude41 (add)
    with BuildSketch(Plane(origin=(0, 69, 0), x_dir=(1, 0, 0), z_dir=(0, 1, 0))):
        with Locations((2.5, 20.5)):
            Rectangle(SKETCH70_W, SKETCH70_H)
    extrude(amount=BOSS_EXTRUDE41_DEPTH)


solid = part_2.part
